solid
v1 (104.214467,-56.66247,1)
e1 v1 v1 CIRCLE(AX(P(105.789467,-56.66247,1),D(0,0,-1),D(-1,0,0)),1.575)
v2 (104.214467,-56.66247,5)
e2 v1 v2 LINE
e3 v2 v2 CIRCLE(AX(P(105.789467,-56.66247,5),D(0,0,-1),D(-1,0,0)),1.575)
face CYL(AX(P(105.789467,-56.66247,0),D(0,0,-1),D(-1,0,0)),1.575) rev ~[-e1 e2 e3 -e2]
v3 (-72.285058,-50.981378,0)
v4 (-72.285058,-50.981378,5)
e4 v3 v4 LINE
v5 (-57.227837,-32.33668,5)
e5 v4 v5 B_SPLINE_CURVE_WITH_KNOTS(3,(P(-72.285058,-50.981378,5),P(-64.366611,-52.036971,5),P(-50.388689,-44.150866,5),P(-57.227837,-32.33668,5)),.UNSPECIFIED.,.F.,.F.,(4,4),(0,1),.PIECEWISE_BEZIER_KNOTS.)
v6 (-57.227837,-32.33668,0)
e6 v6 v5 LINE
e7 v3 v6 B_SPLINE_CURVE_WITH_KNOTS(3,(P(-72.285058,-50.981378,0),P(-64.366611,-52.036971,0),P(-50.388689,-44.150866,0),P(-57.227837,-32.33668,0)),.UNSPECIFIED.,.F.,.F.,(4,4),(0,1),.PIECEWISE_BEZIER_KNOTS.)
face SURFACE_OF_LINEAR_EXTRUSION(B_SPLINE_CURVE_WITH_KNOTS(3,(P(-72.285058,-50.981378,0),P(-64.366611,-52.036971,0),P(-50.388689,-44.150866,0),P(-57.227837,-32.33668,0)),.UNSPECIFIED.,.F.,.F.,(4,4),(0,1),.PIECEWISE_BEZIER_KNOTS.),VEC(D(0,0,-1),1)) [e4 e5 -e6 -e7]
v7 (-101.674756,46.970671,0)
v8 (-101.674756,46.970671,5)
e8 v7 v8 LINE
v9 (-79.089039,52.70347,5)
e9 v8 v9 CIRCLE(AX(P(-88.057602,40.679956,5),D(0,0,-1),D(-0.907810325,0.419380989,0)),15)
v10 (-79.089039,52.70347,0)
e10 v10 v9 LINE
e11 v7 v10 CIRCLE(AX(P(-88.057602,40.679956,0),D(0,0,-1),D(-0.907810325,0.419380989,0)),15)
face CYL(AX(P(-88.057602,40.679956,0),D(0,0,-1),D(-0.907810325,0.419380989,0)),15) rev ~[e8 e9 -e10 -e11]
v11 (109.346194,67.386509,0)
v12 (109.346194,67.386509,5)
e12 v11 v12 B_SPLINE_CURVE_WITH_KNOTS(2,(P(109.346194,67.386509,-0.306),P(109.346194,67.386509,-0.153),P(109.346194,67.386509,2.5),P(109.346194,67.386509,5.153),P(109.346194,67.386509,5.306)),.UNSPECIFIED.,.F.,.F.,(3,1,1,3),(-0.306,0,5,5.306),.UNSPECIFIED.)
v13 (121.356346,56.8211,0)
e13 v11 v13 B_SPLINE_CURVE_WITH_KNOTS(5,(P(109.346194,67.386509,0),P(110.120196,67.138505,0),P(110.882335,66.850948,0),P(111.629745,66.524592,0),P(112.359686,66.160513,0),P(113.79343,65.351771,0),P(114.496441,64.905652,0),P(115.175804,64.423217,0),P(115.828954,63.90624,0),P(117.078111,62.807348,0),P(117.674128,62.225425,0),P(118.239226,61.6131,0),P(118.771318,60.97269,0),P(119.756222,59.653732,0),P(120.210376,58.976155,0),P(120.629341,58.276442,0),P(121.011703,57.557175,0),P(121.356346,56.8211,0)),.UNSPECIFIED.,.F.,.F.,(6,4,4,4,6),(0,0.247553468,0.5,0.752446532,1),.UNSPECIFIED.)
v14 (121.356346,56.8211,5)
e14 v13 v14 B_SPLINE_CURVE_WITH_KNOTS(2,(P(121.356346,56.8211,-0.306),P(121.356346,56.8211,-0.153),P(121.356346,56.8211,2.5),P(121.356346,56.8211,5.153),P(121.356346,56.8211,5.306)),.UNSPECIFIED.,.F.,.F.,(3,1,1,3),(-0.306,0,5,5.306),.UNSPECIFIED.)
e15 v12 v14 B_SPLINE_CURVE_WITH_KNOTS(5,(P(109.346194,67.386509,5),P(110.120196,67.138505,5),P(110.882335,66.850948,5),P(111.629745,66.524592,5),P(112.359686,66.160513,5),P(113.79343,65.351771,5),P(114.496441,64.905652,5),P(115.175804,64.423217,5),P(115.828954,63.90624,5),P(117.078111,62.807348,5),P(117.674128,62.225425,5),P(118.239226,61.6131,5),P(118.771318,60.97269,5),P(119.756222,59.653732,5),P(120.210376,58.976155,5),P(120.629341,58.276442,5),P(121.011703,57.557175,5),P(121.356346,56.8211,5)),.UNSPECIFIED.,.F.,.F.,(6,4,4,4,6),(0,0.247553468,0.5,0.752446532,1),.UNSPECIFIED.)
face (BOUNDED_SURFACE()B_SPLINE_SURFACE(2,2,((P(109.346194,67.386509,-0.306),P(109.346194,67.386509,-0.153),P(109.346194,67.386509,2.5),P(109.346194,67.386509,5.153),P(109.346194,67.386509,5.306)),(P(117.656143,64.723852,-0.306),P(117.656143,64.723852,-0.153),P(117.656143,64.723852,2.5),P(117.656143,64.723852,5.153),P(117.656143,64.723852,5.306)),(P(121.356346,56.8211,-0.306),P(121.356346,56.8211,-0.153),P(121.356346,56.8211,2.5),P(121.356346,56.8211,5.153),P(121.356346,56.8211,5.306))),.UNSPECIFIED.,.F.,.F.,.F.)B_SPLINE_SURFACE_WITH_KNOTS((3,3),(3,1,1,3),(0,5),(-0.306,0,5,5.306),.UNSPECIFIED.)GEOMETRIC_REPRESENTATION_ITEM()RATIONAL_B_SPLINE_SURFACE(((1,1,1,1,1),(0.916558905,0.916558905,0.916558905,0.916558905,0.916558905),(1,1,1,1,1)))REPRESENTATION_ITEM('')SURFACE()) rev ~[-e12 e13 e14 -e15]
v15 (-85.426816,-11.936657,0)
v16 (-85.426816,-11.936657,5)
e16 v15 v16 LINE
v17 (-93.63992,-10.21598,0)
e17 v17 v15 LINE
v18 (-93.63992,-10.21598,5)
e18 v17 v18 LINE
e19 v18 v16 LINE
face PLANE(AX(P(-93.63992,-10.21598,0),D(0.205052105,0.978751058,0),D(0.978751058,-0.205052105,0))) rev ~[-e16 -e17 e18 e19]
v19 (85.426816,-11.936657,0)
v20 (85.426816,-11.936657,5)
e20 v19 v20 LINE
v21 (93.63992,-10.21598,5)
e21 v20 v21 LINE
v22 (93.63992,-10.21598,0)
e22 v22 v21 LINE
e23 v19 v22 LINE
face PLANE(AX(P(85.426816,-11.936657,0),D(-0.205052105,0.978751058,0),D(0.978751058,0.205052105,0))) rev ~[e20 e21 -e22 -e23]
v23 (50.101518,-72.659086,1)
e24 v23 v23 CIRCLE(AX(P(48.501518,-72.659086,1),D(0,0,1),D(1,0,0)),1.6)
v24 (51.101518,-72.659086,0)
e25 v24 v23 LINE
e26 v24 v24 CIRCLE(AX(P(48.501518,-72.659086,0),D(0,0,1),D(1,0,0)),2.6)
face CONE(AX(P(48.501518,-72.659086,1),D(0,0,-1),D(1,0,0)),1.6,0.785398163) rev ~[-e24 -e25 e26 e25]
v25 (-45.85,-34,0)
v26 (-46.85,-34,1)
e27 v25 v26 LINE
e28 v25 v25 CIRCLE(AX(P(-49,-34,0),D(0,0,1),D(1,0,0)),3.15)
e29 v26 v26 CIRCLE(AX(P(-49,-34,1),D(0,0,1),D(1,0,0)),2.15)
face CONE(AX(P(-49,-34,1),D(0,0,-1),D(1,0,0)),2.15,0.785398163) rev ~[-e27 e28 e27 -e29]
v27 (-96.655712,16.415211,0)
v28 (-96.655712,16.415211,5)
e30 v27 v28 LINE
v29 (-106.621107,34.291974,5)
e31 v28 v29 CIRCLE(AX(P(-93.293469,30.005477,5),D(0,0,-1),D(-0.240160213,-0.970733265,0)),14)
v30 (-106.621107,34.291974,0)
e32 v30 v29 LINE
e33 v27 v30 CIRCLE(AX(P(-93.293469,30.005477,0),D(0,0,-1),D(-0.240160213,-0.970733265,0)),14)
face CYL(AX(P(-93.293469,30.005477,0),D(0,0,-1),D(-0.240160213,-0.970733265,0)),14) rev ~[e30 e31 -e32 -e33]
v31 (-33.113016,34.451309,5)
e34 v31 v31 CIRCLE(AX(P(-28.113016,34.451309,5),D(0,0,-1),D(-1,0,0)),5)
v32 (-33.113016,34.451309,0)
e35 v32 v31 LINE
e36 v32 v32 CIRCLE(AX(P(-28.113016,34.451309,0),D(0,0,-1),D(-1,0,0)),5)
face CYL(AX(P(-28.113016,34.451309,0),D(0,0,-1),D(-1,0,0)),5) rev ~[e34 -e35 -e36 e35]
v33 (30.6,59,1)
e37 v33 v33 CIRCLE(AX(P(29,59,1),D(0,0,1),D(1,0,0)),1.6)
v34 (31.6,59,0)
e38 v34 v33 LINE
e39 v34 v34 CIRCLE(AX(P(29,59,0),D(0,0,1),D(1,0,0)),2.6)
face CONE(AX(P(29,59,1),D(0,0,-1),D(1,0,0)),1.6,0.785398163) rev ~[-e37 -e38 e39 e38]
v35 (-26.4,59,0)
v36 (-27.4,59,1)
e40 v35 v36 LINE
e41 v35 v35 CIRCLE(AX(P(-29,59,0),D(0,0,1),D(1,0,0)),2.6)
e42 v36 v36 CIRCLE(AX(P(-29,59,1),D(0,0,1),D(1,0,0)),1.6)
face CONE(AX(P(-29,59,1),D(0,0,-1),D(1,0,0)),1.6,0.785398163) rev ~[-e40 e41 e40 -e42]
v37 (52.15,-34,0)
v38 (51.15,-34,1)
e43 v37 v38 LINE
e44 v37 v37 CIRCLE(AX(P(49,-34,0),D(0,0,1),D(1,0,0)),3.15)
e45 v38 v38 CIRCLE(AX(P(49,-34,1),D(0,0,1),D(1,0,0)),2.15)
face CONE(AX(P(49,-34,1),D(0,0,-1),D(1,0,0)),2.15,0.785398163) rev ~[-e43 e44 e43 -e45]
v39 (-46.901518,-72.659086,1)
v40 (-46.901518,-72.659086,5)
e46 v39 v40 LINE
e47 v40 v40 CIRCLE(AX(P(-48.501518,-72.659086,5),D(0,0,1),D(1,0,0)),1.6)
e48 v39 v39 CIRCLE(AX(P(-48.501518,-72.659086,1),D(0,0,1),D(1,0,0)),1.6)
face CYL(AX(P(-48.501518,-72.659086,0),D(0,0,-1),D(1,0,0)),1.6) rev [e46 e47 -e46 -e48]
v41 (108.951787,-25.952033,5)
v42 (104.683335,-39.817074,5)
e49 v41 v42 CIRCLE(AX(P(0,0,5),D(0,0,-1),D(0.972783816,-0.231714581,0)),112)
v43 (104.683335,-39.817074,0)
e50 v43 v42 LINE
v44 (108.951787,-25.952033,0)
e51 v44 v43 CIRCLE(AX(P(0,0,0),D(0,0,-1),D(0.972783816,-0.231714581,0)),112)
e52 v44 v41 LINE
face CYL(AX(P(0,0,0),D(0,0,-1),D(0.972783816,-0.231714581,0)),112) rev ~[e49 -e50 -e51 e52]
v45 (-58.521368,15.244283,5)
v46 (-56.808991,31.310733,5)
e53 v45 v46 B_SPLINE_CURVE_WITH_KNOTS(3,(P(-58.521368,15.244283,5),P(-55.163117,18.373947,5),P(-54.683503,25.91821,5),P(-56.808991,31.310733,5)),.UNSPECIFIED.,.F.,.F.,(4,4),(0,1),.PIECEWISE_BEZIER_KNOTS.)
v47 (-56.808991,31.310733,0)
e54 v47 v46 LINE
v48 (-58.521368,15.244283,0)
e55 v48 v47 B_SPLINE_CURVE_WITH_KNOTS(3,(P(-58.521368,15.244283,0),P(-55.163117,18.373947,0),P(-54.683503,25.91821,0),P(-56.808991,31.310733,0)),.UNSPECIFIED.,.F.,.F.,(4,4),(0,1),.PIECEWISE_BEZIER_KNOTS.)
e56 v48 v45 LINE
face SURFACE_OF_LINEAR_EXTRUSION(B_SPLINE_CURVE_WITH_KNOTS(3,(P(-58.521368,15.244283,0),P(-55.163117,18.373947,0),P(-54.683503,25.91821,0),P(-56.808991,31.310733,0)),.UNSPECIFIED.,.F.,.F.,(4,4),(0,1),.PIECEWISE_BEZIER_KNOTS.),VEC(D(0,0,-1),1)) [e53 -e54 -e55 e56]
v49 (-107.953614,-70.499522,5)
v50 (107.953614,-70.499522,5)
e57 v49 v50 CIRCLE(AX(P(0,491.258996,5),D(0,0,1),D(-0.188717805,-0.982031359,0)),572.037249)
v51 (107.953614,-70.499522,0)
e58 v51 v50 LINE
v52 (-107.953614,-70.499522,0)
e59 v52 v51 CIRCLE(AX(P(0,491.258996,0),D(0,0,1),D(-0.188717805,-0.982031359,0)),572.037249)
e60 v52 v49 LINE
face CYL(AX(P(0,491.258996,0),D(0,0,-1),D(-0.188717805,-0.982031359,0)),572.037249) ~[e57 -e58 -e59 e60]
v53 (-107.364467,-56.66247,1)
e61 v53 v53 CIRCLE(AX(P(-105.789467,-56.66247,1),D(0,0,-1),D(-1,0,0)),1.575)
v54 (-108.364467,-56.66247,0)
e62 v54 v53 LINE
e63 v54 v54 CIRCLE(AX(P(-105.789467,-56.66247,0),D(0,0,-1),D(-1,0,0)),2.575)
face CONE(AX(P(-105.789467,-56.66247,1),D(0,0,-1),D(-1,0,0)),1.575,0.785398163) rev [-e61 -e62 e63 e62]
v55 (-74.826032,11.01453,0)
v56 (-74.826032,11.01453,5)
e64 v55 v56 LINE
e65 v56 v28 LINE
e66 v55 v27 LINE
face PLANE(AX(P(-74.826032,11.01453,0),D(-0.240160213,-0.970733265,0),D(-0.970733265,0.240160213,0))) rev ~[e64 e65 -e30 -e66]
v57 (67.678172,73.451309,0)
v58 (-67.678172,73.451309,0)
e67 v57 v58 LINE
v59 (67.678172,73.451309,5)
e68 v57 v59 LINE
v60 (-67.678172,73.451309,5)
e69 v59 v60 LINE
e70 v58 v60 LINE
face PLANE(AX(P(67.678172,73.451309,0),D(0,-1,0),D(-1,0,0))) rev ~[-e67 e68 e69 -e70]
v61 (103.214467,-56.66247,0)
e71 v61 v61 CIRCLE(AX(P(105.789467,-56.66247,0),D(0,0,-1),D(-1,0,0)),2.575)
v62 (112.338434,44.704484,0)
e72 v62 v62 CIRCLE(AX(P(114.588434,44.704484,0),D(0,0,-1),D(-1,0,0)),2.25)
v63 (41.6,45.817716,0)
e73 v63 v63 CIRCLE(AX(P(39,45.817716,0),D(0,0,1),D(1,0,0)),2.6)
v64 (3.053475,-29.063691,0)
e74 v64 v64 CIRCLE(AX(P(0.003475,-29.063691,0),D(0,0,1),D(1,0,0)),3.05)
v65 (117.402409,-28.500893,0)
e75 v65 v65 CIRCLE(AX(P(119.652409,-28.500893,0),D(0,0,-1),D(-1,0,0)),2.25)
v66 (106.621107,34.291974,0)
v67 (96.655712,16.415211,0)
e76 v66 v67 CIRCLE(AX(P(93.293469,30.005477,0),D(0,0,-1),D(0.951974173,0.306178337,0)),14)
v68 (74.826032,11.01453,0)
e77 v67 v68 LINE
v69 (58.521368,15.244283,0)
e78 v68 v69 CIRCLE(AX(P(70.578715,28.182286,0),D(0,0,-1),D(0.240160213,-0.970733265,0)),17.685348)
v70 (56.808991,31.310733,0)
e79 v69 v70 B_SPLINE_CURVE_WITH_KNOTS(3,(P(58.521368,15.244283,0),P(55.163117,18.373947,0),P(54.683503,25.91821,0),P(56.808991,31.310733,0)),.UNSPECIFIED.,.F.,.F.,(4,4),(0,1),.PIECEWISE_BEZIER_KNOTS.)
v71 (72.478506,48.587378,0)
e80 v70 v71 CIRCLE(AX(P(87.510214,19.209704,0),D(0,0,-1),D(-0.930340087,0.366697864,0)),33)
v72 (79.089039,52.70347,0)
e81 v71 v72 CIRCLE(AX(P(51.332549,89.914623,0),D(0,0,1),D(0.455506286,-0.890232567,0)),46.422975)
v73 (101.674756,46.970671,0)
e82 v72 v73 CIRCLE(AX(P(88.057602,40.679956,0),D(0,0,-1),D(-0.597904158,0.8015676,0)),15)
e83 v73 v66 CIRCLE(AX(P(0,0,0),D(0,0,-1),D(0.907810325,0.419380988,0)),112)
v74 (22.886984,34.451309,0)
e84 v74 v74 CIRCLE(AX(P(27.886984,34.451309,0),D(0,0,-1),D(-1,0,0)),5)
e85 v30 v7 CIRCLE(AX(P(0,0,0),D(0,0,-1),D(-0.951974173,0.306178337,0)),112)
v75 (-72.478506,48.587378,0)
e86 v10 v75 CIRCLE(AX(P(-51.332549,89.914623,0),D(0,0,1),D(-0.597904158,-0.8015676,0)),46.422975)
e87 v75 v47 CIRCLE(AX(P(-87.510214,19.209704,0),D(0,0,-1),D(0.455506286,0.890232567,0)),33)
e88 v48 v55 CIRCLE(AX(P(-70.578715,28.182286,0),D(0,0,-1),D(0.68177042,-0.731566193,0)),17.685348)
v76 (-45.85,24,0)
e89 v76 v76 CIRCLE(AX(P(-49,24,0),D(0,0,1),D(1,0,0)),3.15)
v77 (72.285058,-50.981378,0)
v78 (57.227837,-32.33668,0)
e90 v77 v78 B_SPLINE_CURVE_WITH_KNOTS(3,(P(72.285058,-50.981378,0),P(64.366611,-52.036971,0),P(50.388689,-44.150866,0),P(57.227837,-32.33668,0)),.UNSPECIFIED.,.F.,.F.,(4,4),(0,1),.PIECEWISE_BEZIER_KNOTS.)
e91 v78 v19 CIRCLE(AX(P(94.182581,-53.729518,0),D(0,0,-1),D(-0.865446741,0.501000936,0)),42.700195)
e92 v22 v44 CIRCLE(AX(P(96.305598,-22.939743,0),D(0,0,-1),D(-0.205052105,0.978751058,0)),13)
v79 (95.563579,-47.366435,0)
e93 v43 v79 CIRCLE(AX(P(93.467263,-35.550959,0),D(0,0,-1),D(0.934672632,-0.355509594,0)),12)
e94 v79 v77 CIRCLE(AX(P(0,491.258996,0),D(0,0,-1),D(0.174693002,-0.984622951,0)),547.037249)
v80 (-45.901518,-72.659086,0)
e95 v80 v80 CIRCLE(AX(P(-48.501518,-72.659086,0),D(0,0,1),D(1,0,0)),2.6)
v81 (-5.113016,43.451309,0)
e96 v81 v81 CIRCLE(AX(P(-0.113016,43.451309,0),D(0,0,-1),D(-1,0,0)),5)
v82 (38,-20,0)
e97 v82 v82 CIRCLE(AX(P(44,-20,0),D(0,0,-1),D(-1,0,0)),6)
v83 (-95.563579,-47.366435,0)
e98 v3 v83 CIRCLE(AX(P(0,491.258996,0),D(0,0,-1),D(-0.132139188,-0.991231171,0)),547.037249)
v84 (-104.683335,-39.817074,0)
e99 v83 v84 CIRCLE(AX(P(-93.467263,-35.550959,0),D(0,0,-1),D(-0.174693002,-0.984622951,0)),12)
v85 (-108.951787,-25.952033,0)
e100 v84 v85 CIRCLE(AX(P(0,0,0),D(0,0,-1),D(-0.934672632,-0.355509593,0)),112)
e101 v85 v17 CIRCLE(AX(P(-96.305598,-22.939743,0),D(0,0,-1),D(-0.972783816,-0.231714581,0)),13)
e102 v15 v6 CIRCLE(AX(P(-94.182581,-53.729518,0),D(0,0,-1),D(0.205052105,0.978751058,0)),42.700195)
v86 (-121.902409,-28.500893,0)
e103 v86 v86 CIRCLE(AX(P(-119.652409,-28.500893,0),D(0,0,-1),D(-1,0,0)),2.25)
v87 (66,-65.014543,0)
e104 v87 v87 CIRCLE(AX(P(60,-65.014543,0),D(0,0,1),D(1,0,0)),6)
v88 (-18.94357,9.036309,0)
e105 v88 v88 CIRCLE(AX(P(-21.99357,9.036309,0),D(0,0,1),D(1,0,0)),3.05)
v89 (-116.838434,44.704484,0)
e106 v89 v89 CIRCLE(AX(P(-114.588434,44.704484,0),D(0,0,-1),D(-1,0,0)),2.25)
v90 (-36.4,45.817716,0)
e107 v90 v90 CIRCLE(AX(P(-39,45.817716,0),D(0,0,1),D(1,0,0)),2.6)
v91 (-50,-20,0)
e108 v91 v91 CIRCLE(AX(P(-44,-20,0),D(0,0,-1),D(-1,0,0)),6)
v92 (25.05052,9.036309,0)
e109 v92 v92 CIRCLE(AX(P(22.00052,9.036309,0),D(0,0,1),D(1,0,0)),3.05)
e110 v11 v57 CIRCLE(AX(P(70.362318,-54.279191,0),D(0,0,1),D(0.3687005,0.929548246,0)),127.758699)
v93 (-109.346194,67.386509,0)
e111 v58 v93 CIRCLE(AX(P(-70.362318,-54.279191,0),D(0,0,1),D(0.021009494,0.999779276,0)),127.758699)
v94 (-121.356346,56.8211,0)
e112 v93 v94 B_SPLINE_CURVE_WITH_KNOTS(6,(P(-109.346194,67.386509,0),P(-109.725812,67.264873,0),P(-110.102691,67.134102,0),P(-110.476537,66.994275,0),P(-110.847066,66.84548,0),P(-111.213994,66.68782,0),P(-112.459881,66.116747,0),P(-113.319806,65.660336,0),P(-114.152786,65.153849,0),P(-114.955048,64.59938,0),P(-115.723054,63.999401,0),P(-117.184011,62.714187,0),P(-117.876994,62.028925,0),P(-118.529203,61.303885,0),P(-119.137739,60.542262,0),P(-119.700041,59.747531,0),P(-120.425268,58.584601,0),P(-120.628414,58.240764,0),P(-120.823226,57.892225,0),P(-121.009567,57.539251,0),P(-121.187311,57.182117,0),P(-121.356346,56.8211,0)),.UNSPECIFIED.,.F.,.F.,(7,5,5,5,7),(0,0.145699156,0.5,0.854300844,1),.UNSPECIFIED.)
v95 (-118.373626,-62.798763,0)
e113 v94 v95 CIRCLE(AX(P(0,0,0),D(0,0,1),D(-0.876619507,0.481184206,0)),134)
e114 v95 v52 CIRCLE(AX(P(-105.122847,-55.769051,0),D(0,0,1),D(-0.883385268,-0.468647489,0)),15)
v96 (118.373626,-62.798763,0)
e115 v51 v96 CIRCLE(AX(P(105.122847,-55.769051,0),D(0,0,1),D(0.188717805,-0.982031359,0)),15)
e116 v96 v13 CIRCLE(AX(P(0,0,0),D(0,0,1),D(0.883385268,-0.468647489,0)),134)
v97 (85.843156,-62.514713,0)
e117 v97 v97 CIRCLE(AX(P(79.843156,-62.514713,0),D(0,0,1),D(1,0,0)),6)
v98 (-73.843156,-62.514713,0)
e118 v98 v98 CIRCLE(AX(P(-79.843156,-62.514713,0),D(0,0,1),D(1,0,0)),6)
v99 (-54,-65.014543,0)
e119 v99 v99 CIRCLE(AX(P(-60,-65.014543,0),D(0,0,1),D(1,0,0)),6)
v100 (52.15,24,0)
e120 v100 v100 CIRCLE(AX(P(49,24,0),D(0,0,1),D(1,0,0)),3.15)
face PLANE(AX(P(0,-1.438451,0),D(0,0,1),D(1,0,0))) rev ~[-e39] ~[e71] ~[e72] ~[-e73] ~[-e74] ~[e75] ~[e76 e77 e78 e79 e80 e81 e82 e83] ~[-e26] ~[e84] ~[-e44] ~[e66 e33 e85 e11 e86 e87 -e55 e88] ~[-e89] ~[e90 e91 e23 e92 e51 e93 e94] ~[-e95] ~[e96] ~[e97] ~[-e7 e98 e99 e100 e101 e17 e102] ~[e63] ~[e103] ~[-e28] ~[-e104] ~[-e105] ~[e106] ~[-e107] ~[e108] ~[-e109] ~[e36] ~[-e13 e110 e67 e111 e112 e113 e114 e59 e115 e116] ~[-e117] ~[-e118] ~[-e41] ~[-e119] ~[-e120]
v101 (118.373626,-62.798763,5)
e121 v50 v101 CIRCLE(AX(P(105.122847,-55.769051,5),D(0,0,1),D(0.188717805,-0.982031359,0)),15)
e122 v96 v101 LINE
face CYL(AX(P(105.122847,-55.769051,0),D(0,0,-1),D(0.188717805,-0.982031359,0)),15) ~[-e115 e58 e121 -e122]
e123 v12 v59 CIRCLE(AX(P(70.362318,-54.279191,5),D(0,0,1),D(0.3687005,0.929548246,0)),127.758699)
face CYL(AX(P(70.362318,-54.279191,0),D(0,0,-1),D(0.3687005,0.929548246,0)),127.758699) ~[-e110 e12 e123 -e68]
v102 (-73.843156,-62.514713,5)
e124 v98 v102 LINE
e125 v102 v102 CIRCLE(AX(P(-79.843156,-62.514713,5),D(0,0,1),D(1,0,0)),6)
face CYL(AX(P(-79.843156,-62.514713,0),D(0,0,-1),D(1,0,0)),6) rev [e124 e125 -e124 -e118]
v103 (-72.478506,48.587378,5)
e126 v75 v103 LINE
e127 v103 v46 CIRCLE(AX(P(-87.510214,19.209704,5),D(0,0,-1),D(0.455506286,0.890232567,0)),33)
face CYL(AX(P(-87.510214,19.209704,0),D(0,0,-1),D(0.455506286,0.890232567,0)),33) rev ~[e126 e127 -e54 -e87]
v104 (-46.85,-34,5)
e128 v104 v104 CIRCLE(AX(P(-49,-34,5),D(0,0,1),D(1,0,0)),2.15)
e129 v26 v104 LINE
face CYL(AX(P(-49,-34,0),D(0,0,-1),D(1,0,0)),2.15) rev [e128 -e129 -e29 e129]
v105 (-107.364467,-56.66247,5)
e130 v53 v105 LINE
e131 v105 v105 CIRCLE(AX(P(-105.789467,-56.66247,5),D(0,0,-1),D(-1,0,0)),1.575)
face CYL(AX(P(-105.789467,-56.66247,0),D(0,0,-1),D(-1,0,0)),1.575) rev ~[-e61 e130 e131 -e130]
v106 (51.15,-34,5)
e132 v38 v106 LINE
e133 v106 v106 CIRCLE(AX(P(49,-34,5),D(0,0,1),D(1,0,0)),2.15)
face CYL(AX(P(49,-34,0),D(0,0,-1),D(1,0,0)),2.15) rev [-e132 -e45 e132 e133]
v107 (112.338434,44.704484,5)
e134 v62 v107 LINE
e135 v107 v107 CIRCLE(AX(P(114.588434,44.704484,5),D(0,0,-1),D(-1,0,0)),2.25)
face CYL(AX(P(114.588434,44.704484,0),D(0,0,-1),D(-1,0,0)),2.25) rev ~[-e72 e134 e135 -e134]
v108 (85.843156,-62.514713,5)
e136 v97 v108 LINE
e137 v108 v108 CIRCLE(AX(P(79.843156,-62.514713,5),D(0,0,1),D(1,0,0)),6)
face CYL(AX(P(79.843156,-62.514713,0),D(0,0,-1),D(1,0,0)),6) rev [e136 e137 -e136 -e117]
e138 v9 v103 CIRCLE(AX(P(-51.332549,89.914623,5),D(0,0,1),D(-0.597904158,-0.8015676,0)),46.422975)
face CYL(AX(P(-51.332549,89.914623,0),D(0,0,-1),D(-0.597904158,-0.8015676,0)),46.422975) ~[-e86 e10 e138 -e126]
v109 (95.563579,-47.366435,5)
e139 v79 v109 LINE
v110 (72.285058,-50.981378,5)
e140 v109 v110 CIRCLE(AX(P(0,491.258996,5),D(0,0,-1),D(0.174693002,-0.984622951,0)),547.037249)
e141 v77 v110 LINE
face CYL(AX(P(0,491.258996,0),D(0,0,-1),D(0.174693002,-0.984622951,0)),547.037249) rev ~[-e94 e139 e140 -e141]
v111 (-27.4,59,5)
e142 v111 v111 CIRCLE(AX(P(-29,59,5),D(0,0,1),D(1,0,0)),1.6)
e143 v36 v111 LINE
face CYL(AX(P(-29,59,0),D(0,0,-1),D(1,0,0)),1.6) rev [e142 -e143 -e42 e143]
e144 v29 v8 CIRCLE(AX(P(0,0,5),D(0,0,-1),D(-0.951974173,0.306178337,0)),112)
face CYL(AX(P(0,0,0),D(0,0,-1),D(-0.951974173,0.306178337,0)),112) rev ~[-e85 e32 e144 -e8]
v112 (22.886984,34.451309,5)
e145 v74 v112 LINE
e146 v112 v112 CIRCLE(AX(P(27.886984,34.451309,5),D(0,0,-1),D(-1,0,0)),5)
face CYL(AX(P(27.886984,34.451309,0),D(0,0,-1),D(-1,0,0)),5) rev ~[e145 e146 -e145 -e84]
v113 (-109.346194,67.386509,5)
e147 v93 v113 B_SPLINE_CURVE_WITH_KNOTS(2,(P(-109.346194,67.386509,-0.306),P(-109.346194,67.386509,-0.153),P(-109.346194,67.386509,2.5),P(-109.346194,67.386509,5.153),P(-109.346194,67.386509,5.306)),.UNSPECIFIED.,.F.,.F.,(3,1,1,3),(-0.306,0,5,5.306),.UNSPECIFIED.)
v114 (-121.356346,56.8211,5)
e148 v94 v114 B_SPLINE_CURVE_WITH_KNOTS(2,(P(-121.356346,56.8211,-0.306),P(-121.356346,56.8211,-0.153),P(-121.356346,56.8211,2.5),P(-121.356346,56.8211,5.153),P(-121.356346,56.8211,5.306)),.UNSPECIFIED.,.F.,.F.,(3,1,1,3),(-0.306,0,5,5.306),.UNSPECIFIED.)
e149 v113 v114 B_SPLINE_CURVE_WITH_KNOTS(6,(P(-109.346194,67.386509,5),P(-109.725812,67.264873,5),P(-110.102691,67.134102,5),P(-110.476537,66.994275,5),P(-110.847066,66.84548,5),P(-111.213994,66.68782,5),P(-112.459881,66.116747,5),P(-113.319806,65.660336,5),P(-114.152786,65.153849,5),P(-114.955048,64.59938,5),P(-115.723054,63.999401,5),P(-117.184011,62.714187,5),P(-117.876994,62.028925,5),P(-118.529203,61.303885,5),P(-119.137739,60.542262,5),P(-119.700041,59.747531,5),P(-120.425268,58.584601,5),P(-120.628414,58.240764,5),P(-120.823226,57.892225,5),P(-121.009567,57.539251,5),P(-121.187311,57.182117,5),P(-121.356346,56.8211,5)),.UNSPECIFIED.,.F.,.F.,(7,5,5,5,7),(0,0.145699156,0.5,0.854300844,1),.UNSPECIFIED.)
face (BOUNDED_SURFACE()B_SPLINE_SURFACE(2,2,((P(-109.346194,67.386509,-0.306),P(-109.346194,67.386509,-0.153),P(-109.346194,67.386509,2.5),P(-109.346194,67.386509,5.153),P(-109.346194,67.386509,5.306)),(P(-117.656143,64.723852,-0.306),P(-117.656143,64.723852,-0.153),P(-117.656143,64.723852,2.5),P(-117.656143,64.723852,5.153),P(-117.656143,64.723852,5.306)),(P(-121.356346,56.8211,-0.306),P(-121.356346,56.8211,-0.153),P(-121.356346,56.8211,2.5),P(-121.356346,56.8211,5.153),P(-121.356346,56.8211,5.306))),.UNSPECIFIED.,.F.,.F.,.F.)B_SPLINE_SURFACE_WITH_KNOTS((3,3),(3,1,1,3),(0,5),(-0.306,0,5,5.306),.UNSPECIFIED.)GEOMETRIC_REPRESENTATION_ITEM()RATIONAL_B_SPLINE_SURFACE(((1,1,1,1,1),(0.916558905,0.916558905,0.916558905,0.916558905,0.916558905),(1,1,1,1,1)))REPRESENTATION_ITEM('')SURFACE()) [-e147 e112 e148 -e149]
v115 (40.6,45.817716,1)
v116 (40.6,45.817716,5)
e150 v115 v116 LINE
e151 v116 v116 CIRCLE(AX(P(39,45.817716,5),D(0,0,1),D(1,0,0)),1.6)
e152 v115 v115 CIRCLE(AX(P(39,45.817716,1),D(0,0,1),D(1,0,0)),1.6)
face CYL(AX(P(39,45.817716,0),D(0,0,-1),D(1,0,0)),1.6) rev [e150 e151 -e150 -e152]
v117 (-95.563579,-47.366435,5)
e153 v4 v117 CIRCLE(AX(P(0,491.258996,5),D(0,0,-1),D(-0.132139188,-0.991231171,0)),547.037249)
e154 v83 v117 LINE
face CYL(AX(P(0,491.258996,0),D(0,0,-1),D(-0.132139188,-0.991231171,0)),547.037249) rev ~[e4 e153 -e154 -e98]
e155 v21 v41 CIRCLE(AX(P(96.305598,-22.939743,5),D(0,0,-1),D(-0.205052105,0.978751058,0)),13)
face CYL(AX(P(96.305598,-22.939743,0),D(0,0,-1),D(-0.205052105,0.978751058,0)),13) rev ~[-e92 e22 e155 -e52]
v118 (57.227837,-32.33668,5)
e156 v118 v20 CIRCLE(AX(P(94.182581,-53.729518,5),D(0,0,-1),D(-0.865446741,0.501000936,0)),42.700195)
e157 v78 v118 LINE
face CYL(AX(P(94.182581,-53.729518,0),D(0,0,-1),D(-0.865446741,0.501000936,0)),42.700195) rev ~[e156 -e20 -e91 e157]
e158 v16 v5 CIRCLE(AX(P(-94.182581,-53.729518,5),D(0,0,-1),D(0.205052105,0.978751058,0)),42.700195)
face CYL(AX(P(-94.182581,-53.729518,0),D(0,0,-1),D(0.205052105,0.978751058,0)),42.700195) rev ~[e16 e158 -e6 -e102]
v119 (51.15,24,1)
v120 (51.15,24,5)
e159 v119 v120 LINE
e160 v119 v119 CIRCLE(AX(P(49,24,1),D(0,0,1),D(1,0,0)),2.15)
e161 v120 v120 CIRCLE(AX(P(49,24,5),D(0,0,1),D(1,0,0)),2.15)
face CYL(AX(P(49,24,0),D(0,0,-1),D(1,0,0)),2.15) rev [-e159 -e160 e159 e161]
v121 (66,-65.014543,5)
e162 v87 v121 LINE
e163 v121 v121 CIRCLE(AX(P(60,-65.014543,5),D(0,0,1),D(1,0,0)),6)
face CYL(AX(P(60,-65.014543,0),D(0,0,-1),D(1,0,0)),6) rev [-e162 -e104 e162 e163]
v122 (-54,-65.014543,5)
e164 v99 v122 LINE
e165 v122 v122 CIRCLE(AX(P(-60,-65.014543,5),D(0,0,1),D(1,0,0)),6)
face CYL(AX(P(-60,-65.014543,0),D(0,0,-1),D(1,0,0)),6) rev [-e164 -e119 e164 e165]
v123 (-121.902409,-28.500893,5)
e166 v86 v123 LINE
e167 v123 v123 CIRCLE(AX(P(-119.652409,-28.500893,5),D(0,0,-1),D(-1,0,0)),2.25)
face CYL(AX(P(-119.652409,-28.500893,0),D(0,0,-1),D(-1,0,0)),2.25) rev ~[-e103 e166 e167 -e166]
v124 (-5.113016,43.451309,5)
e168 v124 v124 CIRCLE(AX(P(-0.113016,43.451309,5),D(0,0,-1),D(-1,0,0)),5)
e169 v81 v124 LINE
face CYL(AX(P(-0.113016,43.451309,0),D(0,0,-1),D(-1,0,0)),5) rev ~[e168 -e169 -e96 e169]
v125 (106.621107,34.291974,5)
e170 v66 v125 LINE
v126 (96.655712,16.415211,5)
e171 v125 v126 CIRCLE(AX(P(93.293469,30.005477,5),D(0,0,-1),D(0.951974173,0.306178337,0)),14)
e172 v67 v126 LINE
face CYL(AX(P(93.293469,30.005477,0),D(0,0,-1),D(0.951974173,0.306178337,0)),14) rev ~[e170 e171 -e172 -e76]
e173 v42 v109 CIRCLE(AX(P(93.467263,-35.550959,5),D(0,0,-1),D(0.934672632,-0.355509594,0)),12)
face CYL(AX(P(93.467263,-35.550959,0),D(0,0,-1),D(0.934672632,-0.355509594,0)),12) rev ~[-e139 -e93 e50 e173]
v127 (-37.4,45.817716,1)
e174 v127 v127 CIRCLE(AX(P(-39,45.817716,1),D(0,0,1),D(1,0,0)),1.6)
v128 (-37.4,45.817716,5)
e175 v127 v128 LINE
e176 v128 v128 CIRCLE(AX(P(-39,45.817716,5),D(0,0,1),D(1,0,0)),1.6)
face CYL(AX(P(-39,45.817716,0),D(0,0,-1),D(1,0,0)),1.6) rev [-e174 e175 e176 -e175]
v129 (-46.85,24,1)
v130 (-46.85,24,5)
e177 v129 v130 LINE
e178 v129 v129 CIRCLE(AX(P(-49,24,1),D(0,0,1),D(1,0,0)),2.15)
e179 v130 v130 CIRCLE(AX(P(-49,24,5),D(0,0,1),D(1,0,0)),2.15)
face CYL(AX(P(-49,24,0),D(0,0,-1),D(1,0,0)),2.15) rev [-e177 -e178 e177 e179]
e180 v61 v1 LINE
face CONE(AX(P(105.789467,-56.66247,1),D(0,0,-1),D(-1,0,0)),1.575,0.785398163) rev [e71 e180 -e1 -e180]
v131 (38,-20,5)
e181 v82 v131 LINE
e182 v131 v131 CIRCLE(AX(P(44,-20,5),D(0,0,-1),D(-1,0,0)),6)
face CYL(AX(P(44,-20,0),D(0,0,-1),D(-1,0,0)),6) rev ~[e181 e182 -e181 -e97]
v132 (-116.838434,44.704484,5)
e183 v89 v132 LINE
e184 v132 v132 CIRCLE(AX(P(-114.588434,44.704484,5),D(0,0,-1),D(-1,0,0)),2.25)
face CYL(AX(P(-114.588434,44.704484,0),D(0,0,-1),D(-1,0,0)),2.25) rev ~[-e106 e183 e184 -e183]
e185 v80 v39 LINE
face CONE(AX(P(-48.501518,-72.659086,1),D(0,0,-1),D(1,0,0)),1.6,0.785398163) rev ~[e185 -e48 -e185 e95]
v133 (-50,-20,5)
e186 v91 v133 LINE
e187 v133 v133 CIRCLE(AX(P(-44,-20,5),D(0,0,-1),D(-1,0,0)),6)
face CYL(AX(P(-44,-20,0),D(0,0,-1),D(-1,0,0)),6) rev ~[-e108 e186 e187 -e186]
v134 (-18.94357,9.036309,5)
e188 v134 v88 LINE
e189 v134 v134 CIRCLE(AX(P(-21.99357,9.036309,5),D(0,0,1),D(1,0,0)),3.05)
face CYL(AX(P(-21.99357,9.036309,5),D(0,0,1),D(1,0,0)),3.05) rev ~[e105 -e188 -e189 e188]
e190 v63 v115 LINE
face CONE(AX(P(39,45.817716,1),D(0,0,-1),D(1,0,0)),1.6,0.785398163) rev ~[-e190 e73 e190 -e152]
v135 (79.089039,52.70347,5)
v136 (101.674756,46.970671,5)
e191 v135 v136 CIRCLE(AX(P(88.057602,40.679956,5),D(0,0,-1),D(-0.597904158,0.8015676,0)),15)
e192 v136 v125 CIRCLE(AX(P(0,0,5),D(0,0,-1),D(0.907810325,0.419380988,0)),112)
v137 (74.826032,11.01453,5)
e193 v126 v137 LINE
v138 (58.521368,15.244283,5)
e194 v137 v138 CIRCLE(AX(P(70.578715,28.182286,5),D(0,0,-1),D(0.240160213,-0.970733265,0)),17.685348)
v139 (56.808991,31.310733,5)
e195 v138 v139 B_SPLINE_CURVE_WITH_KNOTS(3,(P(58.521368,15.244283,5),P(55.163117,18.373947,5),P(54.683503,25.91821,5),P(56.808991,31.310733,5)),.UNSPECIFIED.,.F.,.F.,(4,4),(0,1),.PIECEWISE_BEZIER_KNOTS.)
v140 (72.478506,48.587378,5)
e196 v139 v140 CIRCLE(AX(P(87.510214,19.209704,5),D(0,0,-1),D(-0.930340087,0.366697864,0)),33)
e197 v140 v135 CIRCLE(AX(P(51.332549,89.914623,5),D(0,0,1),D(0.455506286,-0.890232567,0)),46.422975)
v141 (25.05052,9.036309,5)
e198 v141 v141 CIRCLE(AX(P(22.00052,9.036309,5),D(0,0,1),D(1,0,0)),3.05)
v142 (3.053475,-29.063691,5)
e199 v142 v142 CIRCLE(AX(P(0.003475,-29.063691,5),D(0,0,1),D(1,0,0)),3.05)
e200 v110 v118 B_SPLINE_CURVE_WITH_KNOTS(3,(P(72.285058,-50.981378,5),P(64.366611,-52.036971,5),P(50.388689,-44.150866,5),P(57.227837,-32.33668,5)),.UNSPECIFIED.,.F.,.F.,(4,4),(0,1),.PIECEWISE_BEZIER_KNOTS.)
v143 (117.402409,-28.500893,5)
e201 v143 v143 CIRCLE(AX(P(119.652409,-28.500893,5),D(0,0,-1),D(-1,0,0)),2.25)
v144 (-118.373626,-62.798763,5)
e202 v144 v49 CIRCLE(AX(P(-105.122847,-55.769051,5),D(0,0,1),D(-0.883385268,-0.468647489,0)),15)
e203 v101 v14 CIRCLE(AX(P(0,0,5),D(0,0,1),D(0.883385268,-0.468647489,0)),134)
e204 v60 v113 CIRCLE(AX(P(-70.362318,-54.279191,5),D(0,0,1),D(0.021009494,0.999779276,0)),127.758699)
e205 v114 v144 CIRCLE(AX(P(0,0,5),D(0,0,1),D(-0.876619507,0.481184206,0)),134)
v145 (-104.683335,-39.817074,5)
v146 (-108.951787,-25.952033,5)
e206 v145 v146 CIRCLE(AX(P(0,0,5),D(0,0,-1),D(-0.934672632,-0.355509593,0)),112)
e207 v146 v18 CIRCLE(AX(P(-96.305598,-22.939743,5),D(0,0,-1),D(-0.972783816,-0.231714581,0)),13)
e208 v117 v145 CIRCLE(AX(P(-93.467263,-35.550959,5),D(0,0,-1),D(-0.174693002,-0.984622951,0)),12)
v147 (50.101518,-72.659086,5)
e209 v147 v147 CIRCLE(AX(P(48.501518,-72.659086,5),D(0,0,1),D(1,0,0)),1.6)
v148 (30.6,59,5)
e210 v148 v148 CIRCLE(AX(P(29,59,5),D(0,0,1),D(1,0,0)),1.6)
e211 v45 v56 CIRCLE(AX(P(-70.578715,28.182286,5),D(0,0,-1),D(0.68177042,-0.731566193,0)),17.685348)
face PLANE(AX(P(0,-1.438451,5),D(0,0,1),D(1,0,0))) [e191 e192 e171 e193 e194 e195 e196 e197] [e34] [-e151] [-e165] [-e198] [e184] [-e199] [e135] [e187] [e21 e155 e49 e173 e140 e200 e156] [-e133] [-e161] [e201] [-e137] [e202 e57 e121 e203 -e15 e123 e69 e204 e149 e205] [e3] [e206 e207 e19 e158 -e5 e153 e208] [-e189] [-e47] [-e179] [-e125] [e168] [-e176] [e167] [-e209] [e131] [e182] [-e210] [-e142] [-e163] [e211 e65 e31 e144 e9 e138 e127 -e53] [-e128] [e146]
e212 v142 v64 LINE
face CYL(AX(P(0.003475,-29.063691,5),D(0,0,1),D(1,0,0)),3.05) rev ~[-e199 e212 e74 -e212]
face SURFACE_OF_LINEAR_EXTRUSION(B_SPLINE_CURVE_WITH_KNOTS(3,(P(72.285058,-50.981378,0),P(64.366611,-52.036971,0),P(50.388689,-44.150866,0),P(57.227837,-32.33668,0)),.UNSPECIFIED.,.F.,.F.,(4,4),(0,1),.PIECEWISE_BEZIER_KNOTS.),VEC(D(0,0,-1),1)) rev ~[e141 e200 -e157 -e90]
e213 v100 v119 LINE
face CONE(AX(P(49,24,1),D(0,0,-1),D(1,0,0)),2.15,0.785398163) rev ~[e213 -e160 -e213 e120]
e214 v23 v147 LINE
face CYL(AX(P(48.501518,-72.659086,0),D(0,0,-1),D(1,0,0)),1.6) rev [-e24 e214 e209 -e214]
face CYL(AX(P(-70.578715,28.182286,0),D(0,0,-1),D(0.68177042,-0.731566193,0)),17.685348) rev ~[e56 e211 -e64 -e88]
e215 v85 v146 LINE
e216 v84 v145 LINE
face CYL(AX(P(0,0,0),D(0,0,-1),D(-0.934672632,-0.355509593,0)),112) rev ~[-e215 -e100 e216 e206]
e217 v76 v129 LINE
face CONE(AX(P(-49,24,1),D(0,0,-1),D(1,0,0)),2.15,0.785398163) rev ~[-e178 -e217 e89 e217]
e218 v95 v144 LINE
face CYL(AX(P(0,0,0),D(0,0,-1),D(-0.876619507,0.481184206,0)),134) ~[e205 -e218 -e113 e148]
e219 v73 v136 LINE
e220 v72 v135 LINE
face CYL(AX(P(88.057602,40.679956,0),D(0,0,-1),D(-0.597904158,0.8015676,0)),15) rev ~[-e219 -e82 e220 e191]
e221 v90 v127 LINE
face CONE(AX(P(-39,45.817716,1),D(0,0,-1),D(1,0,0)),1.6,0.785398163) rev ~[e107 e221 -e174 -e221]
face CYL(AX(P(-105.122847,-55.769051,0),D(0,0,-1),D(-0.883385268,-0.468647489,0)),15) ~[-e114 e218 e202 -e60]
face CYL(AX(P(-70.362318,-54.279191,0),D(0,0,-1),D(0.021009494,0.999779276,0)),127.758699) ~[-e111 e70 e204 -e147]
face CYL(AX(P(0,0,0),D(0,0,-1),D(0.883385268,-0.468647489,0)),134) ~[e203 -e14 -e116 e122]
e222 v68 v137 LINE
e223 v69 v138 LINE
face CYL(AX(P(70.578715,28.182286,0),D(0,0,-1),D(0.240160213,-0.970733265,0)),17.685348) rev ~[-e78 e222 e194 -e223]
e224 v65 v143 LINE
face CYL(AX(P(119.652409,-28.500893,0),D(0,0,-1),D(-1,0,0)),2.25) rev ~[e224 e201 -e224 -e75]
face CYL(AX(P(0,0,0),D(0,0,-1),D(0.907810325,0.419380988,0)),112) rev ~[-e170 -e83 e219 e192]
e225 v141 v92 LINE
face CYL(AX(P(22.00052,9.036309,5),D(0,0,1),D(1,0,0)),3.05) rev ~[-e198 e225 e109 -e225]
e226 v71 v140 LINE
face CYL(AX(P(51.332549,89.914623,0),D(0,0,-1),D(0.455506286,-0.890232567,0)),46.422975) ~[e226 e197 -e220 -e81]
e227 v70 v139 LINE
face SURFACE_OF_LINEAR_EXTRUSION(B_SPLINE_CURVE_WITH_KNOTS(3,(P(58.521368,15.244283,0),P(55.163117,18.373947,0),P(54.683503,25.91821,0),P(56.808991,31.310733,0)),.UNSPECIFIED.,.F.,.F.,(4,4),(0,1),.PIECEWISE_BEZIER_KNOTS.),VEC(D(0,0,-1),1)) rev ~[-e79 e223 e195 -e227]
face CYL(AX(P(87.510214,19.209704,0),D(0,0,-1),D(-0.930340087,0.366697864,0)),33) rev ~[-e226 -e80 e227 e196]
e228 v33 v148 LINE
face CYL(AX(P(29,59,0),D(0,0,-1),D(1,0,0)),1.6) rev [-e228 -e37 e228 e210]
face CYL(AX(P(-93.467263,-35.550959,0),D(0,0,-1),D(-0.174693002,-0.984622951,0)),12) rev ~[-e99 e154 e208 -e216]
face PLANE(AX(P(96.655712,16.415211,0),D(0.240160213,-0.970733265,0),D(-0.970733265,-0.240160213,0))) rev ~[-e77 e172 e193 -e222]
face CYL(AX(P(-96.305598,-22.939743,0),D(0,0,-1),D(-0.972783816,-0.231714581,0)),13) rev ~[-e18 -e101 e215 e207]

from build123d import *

# Parameters (mm, degrees)
SZKIC1_R                        = 6
SZKIC1_R_2                      = 1.6
SZKIC1_R_3                      = 2.15
DODANIE_WYCI_GNI_CIE1_DEPTH     = 5
ZAOKR_GLENIE1_R                 = 20
SFAZOWANIE1_SIZE                = 1
SZKIC2_R                        = 3.05
WYTNIJ_WYCI_GNI_CIE1_DEPTH      = 1.0000001
WYTNIJ_WYCI_GNI_CIE1_DEPTH_BACK = 6.0000001
SZKIC3_R                        = 2.25
WYTNIJ_WYCI_GNI_CIE2_DEPTH      = 1.0000001
WYTNIJ_WYCI_GNI_CIE2_DEPTH_BACK = 6.0000001
SZKIC4_R                        = 5
WYTNIJ_WYCI_GNI_CIE3_DEPTH      = 16
SZKIC5_R                        = 6
WYTNIJ_WYCI_GNI_CIE4_DEPTH      = 10
SZKIC6_R                        = 1.575
WYTNIJ_WYCI_GNI_CIE5_DEPTH      = 10
SFAZOWANIE2_SIZE                = 1


with BuildPart() as part:
    # Szkic1 → Dodanie-wyci_gni_cie1 (new body)
    with BuildSketch(Plane.XY):
        with BuildLine():
            ThreePointArc((117.467013895, 64.47868366), (93.021164267, 71.454105589), (67.678172045, 73.451308732))
            Line((67.678172045, 73.451308732), (-67.678172045, 73.451308732))
            ThreePointArc((-67.678172045, 73.451308732), (-93.021164267, 71.454105589), (-117.467013895, 64.47868366))
            ThreePointArc((-117.467013895, 64.47868366), (-133.996600631, 0.95447329), (-118.373625878, -62.798763495))
            ThreePointArc((-118.373625878, -62.798763495), (-114.037971639, -67.832241049), (-107.953613934, -70.499521549))
            ThreePointArc((-107.953613934, -70.499521549), (0, -80.778253493), (107.953613934, -70.499521549))
            ThreePointArc((107.953613934, -70.499521549), (114.037971639, -67.832241049), (118.373625878, -62.798763495))
            ThreePointArc((118.373625878, -62.798763495), (133.996600631, 0.95447329), (117.467013895, 64.47868366))
        make_face()
        with Locations((-79.843156229, -62.51471301)):
            Circle(SZKIC1_R, mode=Mode.SUBTRACT)
        with Locations((-60, -65.014543178)):
            Circle(SZKIC1_R, mode=Mode.SUBTRACT)
        with BuildLine():
            Line((-93.639920436, -10.215979742), (-85.426816489, -11.936656557))
            ThreePointArc((-85.426816489, -11.936656557), (-69.154538898, -19.133220925), (-57.227836692, -32.336679986))
            add(Edge.make_bspline(
                [(-72.285057891, -50.981377576), (-64.366611345, -52.03697099), (-50.388689008, -44.15086566), (-57.227836692, -32.336679986)],
                knots=[0, 0, 0, 0, 1, 1, 1, 1], degree=3))
            ThreePointArc((-72.285057891, -50.981377576), (-83.943779984, -49.299228552), (-95.563579221, -47.366434753))
            ThreePointArc((-95.563579221, -47.366434753), (-101.119264644, -44.79470717), (-104.683334782, -39.817074466))
            ThreePointArc((-104.683334782, -39.817074466), (-107.042286981, -32.953737236), (-108.951787413, -25.952033051))
            ThreePointArc((-108.951787413, -25.952033051), (-105.622705702, -13.873790687), (-93.639920436, -10.215979742))
        make_face(mode=Mode.SUBTRACT)
        with Locations((60, -65.014543178)):
            Circle(SZKIC1_R, mode=Mode.SUBTRACT)
        with Locations((79.843156229, -62.51471301)):
            Circle(SZKIC1_R, mode=Mode.SUBTRACT)
        with BuildLine():
            ThreePointArc((57.227836692, -32.336679986), (69.154538898, -19.133220925), (85.426816489, -11.936656557))
            Line((85.426816489, -11.936656557), (93.639920436, -10.215979742))
            ThreePointArc((93.639920436, -10.215979742), (105.622705702, -13.873790687), (108.951787413, -25.952033051))
            ThreePointArc((108.951787413, -25.952033051), (107.042286981, -32.953737236), (104.683334782, -39.817074466))
            ThreePointArc((104.683334782, -39.817074466), (101.119264644, -44.79470717), (95.563579221, -47.366434753))
            ThreePointArc((95.563579221, -47.366434753), (83.943779984, -49.299228552), (72.285057891, -50.981377576))
            add(Edge.make_bspline(
                [(72.285057891, -50.981377576), (64.366611345, -52.03697099), (50.388689008, -44.15086566), (57.227836692, -32.336679986)],
                knots=[0, 0, 0, 0, 1, 1, 1, 1], degree=3))
        make_face(mode=Mode.SUBTRACT)
        with BuildLine():
            Line((-74.826032056, 11.014530402), (-96.655711946, 16.415211274))
            ThreePointArc((-96.655711946, 16.415211274), (-105.521825108, 23.188783802), (-106.621107385, 34.291973698))
            ThreePointArc((-106.621107385, 34.291973698), (-104.340687454, 40.706522101), (-101.674756414, 46.970670723))
            ThreePointArc((-101.674756414, 46.970670723), (-91.74794023, 55.218917354), (-79.089039168, 52.703469899))
            ThreePointArc((-79.089039168, 52.703469899), (-75.870232147, 50.506568408), (-72.478506287, 48.587378348))
            ThreePointArc((-72.478506287, 48.587378348), (-63.066485572, 41.379596603), (-56.80899086, 31.310733134))
            add(Edge.make_bspline(
                [(-58.521368144, 15.244283258), (-55.163116948, 18.373947188), (-54.683502949, 25.918210288), (-56.80899086, 31.310733134)],
                knots=[0, 0, 0, 0, 1, 1, 1, 1], degree=3))
            ThreePointArc((-58.521368144, 15.244283258), (-66.137786774, 11.063591883), (-74.826032056, 11.014530402))
        make_face(mode=Mode.SUBTRACT)
        with BuildLine():
            Line((96.655711946, 16.415211274), (74.826032056, 11.014530402))
            ThreePointArc((74.826032056, 11.014530402), (66.137786774, 11.063591883), (58.521368144, 15.244283258))
            add(Edge.make_bspline(
                [(58.521368144, 15.244283258), (55.163116948, 18.373947188), (54.683502949, 25.918210288), (56.80899086, 31.310733134)],
                knots=[0, 0, 0, 0, 1, 1, 1, 1], degree=3))
            ThreePointArc((56.80899086, 31.310733134), (63.066485572, 41.379596603), (72.478506287, 48.587378348))
            ThreePointArc((72.478506287, 48.587378348), (75.870232147, 50.506568408), (79.089039168, 52.703469899))
            ThreePointArc((79.089039168, 52.703469899), (91.74794023, 55.218917354), (101.674756414, 46.970670723))
            ThreePointArc((101.674756414, 46.970670723), (104.340687454, 40.706522101), (106.621107385, 34.291973698))
            ThreePointArc((106.621107385, 34.291973698), (105.521825108, 23.188783802), (96.655711946, 16.415211274))
        make_face(mode=Mode.SUBTRACT)
        with Locations((-29, 59)):
            Circle(SZKIC1_R_2, mode=Mode.SUBTRACT)
        with Locations((29, 59)):
            Circle(SZKIC1_R_2, mode=Mode.SUBTRACT)
        with Locations((39, 45.817716041)):
            Circle(SZKIC1_R_2, mode=Mode.SUBTRACT)
        with Locations((-39, 45.817716041)):
            Circle(SZKIC1_R_2, mode=Mode.SUBTRACT)
        with Locations((-49, 24)):
            Circle(SZKIC1_R_3, mode=Mode.SUBTRACT)
        with Locations((49, 24)):
            Circle(SZKIC1_R_3, mode=Mode.SUBTRACT)
        with Locations((-49, -34)):
            Circle(SZKIC1_R_3, mode=Mode.SUBTRACT)
        with Locations((49, -34)):
            Circle(SZKIC1_R_3, mode=Mode.SUBTRACT)
        with Locations((48.501518409, -72.659085912)):
            Circle(SZKIC1_R_2, mode=Mode.SUBTRACT)
        with Locations((-48.501518409, -72.659085912)):
            Circle(SZKIC1_R_2, mode=Mode.SUBTRACT)
    extrude(amount=DODANIE_WYCI_GNI_CIE1_DEPTH)

    # Zaokr_glenie1
    zaokr_glenie1_edges = [part.edges().sort_by_distance(p)[0] for p in [
        (117.467013895, 64.47868366, 2.5),
        (-117.467013895, 64.47868366, 2.5),
    ]]
    fillet(zaokr_glenie1_edges, radius=ZAOKR_GLENIE1_R)

    # Sfazowanie1
    sfazowanie1_edges = [part.edges().sort_by_distance(p)[0] for p in [
        (-50.101518409, -72.659085912, 0),
        (46.901518409, -72.659085912, 0),
        (46.85, -34, 0),
        (37.4, 45.817716041, 0),
        (-40.6, 45.817716041, 0),
        (-51.15, 24, 0),
        (46.85, 24, 0),
        (-51.15, -34, 0),
        (-30.6, 59, 0),
        (27.4, 59, 0),
    ]]
    chamfer(sfazowanie1_edges, length=SFAZOWANIE1_SIZE)

    # Szkic2 → Wytnij-wyci_gni_cie1 (cut, two sides)
    with BuildSketch(Plane.XY.offset(5)) as wytnij_wyci_gni_cie1_sk:
        with Locations((0.003475223, -29.063691268)):
            Circle(SZKIC2_R)
        with Locations((22.00052048, 9.036308732)):
            Circle(SZKIC2_R)
        with Locations((-21.993570033, 9.036308732)):
            Circle(SZKIC2_R)
    extrude(amount=WYTNIJ_WYCI_GNI_CIE1_DEPTH, mode=Mode.SUBTRACT)
    extrude(wytnij_wyci_gni_cie1_sk.sketch, amount=-WYTNIJ_WYCI_GNI_CIE1_DEPTH_BACK, mode=Mode.SUBTRACT)

    # Szkic3 → Wytnij-wyci_gni_cie2 (cut, two sides)
    with BuildSketch(Plane(origin=(0, 0, 0), x_dir=(-1, 0, 0), z_dir=(0, 0, -1))) as wytnij_wyci_gni_cie2_sk:
        with Locations((114.588433544, 44.704484093)):
            Circle(SZKIC3_R)
        with Locations((119.652409391, -28.500893439)):
            Circle(SZKIC3_R)
        with Locations((-119.652409391, -28.500893439)):
            Circle(SZKIC3_R)
        with Locations((-114.588433544, 44.704484093)):
            Circle(SZKIC3_R)
    extrude(amount=WYTNIJ_WYCI_GNI_CIE2_DEPTH, mode=Mode.SUBTRACT)
    extrude(wytnij_wyci_gni_cie2_sk.sketch, amount=-WYTNIJ_WYCI_GNI_CIE2_DEPTH_BACK, mode=Mode.SUBTRACT)

    # Szkic4 → Wytnij-wyci_gni_cie3 (cut)
    with BuildSketch(Plane(origin=(0, 0, 0), x_dir=(-1, 0, 0), z_dir=(0, 0, -1))):
        with Locations((0.11301634, 43.451308732)):
            Circle(SZKIC4_R)
        with Locations((-27.88698366, 34.451308732)):
            Circle(SZKIC4_R)
        with Locations((28.11301634, 34.451308732)):
            Circle(SZKIC4_R)
    extrude(amount=-WYTNIJ_WYCI_GNI_CIE3_DEPTH, mode=Mode.SUBTRACT)

    # Szkic5 → Wytnij-wyci_gni_cie4 (cut)
    with BuildSketch(Plane(origin=(0, 0, 0), x_dir=(-1, 0, 0), z_dir=(0, 0, -1))):
        with Locations((44, -20)):
            Circle(SZKIC5_R)
        with Locations((-44, -20)):
            Circle(SZKIC5_R)
    extrude(amount=-WYTNIJ_WYCI_GNI_CIE4_DEPTH, mode=Mode.SUBTRACT)

    # Szkic6 → Wytnij-wyci_gni_cie5 (cut)
    with BuildSketch(Plane(origin=(0, 0, 0), x_dir=(-1, 0, 0), z_dir=(0, 0, -1))):
        with Locations((105.78946688, -56.662469542)):
            Circle(SZKIC6_R)
        with Locations((-105.78946688, -56.662469542)):
            Circle(SZKIC6_R)
    extrude(amount=-WYTNIJ_WYCI_GNI_CIE5_DEPTH, mode=Mode.SUBTRACT)

    # Sfazowanie2
    sfazowanie2_edges = [part.edges().sort_by_distance(p)[0] for p in [
        (-104.21446688, -56.662469542, 0),
        (107.36446688, -56.662469542, 0),
    ]]
    chamfer(sfazowanie2_edges, length=SFAZOWANIE2_SIZE)


solid = part.part
